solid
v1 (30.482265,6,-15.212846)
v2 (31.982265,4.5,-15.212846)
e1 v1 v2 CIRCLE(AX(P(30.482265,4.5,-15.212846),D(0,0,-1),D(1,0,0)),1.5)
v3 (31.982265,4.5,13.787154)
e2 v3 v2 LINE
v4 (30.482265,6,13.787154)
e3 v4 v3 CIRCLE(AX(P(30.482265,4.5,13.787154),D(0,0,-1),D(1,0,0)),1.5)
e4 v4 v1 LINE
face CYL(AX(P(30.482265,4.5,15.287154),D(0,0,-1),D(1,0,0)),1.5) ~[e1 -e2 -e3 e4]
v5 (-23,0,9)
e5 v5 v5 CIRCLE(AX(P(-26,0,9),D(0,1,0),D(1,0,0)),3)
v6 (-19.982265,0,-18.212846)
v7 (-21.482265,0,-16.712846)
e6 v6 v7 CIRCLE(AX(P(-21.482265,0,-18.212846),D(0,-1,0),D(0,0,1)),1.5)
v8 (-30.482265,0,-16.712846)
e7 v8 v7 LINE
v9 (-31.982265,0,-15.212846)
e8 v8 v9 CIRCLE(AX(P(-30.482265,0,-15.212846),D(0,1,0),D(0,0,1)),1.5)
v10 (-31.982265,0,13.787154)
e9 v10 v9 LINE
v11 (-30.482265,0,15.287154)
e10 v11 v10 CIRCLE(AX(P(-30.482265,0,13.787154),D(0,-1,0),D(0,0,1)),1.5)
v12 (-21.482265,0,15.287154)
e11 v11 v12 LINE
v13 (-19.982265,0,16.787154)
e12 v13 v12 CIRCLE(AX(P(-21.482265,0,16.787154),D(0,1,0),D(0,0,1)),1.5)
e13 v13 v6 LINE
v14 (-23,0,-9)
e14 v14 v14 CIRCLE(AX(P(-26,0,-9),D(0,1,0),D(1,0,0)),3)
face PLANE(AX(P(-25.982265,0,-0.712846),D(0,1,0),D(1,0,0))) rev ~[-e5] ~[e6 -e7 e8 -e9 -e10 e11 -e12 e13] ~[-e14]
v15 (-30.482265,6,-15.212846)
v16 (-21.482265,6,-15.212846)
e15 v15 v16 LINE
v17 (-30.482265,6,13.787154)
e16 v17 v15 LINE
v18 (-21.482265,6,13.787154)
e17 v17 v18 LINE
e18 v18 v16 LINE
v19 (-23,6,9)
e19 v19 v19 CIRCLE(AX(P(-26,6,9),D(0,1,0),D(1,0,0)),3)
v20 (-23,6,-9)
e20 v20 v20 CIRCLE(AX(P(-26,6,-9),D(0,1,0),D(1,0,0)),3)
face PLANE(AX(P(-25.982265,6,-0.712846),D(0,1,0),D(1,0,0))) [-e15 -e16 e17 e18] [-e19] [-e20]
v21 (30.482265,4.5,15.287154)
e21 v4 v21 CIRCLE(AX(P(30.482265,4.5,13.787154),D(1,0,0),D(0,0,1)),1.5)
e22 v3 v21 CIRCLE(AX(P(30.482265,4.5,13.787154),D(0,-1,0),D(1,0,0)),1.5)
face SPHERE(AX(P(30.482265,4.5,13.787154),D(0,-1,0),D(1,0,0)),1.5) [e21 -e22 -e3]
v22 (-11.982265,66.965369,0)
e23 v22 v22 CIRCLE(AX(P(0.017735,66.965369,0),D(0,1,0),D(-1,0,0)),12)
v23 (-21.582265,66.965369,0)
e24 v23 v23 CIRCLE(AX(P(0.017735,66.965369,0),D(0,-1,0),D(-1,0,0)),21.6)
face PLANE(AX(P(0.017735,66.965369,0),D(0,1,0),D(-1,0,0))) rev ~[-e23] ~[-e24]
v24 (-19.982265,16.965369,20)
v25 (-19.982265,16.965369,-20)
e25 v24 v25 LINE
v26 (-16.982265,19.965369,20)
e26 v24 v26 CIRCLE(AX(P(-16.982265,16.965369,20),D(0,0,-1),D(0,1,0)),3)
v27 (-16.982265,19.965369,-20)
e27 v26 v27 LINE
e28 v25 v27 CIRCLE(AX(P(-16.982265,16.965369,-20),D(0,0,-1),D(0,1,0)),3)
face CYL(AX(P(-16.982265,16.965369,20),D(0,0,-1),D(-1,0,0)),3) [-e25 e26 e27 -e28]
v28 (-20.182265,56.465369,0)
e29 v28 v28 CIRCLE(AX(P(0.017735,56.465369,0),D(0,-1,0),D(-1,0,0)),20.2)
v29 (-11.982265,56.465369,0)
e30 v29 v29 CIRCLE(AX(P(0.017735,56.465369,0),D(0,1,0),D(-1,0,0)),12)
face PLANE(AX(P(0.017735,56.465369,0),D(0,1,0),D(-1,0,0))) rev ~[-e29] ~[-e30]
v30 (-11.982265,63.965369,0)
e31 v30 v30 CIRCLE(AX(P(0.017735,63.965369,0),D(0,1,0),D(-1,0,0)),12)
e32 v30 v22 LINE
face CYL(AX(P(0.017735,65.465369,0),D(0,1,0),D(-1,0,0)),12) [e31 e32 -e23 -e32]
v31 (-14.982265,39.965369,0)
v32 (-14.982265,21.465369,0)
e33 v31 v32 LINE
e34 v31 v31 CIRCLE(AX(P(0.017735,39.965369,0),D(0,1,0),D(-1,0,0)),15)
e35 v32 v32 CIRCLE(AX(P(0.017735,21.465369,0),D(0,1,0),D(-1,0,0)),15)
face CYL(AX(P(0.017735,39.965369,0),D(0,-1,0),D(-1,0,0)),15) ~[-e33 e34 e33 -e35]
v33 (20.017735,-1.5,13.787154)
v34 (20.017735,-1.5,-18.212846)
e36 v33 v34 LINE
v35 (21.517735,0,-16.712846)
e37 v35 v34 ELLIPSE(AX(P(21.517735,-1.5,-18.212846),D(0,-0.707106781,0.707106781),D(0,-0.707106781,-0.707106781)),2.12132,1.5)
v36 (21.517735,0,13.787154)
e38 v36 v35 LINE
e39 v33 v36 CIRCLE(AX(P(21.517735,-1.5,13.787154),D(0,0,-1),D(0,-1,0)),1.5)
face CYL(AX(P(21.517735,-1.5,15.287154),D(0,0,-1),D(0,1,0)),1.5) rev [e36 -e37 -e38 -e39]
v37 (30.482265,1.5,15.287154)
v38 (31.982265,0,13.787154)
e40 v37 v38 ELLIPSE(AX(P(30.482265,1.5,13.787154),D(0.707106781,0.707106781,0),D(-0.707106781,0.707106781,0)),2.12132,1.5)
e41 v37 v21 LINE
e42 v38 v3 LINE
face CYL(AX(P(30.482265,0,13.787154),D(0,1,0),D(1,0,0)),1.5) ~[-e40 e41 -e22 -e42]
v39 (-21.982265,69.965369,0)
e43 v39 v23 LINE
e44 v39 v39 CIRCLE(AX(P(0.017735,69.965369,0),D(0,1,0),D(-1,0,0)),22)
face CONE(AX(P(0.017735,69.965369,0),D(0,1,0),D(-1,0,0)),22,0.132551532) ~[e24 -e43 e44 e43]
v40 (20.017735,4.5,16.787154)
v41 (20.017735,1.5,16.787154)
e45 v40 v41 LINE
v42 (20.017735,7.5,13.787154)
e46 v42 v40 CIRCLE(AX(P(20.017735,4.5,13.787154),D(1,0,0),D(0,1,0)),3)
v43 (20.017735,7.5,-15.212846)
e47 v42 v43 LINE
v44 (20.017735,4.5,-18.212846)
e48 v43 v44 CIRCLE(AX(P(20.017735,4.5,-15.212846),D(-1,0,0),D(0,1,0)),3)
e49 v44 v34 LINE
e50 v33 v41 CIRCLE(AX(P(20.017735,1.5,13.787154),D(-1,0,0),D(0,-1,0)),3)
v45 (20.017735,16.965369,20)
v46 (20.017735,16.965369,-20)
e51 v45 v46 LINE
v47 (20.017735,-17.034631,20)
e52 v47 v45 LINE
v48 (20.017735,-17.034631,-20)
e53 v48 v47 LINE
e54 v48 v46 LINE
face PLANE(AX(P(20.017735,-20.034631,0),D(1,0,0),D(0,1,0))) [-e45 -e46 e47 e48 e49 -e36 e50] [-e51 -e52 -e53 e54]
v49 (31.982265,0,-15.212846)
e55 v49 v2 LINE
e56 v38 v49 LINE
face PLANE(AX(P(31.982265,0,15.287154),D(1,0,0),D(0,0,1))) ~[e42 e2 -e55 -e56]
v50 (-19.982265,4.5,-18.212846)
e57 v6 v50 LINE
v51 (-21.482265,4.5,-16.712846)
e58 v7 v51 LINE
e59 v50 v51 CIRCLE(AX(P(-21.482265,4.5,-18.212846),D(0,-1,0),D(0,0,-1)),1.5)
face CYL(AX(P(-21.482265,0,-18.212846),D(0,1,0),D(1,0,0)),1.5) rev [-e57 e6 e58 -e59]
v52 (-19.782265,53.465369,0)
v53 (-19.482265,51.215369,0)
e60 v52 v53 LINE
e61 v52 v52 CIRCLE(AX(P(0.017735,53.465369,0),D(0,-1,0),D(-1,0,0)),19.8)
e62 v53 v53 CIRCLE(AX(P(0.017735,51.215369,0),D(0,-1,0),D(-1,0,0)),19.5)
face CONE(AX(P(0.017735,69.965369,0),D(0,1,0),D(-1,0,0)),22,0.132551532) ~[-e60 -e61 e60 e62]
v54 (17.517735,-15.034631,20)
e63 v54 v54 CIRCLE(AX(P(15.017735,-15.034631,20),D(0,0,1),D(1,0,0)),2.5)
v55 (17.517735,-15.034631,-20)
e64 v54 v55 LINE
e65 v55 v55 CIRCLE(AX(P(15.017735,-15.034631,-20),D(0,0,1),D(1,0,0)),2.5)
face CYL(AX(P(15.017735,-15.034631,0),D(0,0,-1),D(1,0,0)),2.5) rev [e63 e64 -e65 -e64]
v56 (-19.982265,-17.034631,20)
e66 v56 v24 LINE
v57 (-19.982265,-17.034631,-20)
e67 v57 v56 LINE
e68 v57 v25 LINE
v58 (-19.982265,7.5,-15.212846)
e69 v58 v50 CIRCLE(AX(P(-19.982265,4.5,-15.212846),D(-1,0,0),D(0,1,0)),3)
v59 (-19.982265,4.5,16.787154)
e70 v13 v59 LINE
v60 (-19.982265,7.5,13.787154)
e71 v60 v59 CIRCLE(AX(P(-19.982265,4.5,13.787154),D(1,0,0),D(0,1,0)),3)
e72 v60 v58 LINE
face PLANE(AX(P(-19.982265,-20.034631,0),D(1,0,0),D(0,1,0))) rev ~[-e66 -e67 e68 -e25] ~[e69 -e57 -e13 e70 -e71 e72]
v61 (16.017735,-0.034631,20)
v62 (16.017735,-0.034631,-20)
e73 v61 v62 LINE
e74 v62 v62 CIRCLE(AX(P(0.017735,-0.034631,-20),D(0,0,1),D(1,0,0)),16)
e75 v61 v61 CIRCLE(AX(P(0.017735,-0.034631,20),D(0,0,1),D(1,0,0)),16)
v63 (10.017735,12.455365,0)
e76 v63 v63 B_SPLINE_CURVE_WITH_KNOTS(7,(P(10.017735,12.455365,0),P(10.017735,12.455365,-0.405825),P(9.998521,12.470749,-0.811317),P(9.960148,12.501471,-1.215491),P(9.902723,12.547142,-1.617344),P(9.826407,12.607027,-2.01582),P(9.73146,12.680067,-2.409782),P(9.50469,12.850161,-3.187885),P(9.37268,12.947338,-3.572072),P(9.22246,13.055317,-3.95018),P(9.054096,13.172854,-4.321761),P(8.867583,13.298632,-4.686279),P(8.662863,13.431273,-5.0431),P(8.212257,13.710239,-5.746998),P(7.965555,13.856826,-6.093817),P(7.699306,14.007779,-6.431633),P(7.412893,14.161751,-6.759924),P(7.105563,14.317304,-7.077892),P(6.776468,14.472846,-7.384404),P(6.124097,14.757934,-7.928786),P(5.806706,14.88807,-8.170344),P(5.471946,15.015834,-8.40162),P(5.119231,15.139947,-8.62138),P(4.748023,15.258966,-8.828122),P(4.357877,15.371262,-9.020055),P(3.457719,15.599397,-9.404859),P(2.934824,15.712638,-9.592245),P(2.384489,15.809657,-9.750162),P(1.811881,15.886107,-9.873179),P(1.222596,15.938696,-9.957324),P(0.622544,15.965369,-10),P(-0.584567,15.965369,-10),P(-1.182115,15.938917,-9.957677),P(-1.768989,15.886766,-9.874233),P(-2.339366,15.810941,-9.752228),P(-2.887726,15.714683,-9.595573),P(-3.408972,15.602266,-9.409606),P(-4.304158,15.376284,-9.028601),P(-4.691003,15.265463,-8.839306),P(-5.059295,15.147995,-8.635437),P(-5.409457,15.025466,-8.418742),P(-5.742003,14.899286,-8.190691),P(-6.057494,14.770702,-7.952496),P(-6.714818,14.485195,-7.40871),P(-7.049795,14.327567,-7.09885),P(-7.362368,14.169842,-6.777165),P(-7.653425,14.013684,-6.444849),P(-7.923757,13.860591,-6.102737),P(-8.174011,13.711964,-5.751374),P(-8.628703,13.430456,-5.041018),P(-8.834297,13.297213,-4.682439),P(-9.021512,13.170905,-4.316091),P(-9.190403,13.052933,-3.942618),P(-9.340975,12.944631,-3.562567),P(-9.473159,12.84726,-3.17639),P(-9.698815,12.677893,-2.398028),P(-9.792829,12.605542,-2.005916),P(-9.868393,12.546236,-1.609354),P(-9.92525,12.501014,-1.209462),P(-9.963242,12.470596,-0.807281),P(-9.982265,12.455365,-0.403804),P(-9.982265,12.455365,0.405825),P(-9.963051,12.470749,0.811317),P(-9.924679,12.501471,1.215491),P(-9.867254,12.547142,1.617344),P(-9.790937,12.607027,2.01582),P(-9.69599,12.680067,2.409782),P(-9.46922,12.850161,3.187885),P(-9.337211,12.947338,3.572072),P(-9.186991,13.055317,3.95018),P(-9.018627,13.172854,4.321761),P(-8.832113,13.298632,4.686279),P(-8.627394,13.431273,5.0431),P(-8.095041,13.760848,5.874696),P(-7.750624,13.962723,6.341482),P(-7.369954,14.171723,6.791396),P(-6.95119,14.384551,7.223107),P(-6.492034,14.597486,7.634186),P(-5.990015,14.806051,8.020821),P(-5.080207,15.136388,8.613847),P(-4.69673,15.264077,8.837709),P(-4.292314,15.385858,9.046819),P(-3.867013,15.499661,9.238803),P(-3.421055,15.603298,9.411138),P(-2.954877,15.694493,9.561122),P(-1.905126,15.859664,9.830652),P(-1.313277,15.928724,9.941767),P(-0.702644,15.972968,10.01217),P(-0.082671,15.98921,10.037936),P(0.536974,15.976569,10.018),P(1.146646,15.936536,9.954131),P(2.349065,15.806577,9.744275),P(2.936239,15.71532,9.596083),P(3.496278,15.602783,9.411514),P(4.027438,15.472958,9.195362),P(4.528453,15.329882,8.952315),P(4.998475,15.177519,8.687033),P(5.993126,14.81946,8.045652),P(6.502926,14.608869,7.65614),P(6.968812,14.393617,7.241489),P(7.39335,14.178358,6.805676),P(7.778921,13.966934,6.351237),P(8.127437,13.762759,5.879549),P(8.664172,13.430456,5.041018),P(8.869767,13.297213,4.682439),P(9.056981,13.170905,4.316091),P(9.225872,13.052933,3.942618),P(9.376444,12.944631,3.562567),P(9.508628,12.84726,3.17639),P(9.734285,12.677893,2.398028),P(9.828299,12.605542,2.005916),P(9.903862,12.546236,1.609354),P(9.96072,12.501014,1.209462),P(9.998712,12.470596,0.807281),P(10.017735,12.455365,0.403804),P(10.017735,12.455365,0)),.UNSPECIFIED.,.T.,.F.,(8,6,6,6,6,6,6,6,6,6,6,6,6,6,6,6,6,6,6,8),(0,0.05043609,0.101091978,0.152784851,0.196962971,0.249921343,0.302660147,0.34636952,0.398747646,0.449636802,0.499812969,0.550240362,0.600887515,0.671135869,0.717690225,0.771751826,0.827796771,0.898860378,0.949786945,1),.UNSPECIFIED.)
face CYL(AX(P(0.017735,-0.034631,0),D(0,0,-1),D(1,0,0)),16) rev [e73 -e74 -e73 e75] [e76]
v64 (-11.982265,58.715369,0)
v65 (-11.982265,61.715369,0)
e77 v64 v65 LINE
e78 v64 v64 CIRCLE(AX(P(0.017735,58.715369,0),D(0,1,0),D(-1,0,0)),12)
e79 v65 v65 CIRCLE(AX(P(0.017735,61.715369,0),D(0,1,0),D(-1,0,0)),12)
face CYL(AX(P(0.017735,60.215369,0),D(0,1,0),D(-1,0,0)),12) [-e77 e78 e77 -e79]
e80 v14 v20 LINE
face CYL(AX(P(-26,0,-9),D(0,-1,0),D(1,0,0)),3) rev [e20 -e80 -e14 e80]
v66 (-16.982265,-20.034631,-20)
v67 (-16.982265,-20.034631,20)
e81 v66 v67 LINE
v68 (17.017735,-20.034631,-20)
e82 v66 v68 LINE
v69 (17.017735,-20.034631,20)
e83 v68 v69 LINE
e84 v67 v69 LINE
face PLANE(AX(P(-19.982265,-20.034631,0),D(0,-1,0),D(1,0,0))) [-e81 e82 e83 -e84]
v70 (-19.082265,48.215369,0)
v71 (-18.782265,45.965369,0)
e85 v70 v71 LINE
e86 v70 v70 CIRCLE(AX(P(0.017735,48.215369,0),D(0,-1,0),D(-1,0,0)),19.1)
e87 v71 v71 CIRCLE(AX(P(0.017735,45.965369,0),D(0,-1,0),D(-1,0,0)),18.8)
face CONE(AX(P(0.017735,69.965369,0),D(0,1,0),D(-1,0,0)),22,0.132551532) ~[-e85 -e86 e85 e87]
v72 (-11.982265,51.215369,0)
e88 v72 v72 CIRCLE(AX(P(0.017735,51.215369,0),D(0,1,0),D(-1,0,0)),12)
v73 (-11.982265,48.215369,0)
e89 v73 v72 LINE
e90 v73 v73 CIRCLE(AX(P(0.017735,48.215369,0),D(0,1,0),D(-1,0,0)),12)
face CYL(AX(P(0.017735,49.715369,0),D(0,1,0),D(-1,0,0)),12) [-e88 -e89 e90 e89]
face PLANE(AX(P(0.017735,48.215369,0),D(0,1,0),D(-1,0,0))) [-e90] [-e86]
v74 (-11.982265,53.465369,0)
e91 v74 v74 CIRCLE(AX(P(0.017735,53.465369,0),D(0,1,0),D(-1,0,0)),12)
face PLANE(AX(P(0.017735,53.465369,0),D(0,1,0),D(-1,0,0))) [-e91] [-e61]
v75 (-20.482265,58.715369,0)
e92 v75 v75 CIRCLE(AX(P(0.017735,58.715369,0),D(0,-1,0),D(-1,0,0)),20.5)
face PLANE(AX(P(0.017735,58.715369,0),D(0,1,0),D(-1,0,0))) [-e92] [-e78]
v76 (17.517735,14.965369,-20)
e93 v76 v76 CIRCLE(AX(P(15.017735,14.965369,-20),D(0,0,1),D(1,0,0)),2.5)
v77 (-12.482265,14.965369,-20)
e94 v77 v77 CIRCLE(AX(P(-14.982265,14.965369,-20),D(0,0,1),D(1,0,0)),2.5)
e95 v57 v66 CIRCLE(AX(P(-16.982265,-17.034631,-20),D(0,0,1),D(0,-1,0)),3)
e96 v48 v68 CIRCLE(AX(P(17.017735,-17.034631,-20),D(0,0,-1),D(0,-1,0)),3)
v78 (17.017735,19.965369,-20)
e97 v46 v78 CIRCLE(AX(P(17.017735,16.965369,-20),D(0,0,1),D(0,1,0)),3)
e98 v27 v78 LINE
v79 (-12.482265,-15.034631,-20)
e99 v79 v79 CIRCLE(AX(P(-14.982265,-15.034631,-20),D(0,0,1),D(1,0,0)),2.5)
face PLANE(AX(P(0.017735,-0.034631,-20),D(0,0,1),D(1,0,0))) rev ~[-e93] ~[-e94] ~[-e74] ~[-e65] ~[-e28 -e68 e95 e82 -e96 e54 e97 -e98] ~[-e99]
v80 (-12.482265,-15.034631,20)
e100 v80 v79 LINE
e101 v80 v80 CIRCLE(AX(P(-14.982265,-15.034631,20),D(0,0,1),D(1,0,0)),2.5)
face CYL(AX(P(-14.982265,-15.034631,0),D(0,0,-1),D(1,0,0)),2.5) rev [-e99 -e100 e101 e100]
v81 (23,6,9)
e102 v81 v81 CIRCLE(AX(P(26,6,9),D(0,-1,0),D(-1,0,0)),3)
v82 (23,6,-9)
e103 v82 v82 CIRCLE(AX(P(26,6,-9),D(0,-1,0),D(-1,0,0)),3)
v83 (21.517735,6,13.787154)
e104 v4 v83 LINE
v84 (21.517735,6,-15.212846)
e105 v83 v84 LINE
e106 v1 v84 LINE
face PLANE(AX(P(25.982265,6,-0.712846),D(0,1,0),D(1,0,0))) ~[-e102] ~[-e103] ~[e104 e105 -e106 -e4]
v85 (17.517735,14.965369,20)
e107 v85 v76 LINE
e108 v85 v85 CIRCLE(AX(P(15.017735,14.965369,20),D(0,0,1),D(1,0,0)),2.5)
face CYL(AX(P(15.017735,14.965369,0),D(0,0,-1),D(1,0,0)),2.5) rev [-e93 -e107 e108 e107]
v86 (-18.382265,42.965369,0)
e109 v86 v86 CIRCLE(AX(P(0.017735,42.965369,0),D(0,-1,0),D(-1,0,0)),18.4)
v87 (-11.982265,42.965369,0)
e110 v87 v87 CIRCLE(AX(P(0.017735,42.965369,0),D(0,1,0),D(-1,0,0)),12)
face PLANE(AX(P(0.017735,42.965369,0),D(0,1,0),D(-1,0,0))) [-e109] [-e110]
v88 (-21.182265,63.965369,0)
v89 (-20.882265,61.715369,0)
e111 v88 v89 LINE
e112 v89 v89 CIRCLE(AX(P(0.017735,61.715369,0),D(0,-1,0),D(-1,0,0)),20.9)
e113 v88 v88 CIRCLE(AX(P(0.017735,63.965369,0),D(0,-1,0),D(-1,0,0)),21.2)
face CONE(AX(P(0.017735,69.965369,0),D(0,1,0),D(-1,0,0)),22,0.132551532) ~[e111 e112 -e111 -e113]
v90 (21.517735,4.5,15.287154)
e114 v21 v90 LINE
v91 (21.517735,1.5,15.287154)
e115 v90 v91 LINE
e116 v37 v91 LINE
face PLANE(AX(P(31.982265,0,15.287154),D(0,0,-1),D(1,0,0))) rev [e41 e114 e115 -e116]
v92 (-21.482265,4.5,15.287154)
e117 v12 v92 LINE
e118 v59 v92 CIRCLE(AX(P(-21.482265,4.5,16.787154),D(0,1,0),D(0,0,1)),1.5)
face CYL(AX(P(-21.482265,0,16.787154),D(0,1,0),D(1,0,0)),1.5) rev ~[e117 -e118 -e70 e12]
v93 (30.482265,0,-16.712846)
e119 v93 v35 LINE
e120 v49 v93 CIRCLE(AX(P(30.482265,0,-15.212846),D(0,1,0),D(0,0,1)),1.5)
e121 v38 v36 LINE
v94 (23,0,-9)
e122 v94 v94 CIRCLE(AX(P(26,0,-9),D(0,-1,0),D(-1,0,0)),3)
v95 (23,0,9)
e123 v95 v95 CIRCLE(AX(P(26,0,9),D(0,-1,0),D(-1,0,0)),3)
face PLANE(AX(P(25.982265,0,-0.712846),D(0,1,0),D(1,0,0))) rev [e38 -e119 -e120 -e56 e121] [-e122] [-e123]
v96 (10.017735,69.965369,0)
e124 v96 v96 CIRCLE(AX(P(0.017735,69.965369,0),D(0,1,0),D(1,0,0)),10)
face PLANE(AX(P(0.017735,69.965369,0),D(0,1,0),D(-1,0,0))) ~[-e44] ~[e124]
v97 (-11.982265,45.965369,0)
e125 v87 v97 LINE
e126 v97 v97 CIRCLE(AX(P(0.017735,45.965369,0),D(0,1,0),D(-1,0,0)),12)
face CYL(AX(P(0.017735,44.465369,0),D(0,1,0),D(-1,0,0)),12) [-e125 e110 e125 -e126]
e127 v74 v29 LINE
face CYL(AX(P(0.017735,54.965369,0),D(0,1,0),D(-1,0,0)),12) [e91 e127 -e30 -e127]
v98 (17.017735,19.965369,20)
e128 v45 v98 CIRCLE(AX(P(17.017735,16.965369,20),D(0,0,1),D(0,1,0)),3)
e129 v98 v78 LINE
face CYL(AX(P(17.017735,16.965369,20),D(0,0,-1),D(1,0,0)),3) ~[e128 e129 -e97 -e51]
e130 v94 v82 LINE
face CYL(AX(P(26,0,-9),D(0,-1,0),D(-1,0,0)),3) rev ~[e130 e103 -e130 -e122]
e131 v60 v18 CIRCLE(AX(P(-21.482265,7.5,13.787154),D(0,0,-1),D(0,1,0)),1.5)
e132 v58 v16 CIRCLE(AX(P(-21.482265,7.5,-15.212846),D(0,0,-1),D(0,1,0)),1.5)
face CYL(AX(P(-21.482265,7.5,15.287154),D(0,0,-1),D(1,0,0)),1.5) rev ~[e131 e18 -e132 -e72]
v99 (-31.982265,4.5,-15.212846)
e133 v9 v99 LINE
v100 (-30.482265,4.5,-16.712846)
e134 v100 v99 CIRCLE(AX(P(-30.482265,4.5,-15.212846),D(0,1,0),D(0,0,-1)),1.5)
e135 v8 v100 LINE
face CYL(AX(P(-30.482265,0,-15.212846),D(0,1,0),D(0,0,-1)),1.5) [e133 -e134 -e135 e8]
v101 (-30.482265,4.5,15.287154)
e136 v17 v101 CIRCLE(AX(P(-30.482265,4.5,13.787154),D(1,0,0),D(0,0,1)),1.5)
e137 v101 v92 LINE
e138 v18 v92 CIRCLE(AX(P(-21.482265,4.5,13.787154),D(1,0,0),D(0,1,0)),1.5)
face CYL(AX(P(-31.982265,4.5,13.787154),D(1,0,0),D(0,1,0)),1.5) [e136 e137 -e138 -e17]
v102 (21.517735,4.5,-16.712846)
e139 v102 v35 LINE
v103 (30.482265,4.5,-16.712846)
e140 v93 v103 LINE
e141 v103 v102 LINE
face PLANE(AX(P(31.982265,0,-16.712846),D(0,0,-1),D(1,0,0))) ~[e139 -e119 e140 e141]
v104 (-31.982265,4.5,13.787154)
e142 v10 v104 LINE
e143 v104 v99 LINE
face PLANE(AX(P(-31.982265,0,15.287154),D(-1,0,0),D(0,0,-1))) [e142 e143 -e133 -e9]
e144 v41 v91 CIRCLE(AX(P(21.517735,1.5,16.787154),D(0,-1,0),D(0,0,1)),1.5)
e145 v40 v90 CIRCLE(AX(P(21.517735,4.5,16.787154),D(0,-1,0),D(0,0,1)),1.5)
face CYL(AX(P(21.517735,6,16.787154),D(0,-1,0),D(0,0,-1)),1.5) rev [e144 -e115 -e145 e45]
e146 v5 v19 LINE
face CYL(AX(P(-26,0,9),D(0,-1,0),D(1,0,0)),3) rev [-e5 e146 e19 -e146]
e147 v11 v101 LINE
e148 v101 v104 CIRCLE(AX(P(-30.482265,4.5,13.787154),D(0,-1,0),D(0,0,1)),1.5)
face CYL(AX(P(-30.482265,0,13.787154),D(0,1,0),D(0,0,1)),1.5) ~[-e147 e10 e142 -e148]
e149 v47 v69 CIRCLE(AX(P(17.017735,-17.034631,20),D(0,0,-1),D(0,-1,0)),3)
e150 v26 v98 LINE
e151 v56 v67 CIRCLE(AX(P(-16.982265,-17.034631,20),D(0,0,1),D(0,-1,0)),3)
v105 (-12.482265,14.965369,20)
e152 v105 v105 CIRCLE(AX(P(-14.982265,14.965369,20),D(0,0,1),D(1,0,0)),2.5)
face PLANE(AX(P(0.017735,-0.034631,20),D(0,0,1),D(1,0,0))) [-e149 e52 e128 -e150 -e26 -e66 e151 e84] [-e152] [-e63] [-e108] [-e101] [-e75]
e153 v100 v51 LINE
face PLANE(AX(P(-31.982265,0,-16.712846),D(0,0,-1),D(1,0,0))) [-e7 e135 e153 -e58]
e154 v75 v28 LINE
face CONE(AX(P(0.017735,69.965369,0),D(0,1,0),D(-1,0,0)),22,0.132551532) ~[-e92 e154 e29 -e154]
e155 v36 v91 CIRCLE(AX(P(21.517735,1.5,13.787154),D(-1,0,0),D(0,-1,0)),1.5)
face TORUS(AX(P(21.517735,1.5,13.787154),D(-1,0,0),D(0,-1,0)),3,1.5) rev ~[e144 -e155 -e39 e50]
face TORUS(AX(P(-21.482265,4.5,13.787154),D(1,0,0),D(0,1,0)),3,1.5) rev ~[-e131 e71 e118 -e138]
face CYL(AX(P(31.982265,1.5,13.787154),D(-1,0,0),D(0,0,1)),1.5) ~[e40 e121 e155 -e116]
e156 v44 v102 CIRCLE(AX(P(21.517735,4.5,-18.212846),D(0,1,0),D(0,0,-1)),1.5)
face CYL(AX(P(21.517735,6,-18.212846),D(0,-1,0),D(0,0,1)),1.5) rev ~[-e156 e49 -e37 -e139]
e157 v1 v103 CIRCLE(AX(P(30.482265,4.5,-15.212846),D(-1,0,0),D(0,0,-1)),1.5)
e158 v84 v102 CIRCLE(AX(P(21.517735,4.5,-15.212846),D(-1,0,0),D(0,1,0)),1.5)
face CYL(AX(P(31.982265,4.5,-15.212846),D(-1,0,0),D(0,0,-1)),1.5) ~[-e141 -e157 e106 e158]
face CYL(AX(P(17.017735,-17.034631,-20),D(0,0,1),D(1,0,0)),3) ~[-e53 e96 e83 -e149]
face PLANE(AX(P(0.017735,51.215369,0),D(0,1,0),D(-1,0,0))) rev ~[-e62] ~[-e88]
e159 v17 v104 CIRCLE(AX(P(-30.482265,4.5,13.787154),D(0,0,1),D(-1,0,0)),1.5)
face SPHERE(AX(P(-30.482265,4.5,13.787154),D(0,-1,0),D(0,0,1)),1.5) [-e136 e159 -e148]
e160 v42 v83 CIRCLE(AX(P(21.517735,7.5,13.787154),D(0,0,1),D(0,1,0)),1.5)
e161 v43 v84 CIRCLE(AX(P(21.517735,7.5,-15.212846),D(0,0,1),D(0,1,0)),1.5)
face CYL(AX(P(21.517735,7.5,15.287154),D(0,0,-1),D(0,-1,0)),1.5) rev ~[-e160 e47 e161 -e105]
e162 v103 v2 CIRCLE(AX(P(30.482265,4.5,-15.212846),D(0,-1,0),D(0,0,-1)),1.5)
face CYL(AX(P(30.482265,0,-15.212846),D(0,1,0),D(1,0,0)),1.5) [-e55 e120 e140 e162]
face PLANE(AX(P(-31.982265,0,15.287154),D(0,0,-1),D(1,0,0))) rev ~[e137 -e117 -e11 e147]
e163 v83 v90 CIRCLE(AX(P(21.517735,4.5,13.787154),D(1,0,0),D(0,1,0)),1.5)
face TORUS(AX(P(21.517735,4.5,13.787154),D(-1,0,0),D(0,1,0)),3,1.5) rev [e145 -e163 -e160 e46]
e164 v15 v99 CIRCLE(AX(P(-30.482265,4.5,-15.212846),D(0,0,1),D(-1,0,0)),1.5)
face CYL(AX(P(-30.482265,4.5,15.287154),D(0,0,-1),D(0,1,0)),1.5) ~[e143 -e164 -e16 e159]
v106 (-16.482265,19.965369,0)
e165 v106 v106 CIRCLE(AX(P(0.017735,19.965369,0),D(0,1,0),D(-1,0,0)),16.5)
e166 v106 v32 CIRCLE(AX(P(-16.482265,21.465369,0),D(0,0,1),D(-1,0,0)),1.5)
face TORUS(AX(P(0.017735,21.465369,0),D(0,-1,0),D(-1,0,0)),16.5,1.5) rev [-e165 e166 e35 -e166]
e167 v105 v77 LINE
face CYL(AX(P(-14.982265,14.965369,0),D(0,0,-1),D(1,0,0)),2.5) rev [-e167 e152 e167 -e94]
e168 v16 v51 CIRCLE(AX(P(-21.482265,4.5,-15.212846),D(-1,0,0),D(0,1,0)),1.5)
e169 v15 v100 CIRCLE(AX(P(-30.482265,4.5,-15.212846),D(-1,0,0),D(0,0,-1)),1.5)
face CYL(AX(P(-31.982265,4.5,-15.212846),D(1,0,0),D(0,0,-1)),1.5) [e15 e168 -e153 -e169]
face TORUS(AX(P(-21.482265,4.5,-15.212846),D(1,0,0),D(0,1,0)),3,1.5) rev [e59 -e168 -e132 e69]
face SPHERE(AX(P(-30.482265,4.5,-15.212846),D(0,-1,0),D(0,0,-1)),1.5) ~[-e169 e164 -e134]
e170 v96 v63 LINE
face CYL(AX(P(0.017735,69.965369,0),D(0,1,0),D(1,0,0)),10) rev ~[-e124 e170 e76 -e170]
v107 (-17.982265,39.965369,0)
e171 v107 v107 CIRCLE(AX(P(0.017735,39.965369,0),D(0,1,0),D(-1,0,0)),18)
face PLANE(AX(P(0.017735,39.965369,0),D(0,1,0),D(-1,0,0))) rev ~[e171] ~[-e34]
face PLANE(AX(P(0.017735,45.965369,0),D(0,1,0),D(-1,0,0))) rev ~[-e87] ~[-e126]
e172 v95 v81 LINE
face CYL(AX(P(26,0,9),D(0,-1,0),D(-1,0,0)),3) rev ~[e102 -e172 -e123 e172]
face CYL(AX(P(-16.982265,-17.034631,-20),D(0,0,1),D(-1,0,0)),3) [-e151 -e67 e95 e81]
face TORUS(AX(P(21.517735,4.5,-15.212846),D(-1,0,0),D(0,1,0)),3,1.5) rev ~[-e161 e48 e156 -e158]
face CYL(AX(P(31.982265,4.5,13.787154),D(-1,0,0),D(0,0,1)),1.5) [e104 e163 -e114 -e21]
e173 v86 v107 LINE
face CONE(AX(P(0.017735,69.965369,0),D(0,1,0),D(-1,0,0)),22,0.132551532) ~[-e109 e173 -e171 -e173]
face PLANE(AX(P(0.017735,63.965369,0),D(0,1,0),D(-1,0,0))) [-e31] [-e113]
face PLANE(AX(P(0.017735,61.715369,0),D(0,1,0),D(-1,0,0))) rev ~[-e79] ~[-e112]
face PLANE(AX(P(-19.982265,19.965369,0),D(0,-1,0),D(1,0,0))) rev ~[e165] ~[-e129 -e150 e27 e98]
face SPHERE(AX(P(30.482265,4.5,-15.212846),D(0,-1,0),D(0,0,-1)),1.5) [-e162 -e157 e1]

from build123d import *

# Parameters (mm, degrees)
SKETCH1_W           = 40
SKETCH1_H           = 40
SKETCH1_R           = 2.5
SKETCH1_R_2         = 16
BOSS_EXTRUDE1_DEPTH = 20
FILLET2_R           = 3
SKETCH7_W           = 18
SKETCH7_H           = 3
LPATTERN1_COUNT     = 5
LPATTERN1_PITCH     = 5.25
SKETCH8_R           = 10
CUT_EXTRUDE1_DEPTH  = 70
SKETCH10_W          = 12
SKETCH10_H          = 32
SKETCH10_R          = 3
BOSS_EXTRUDE2_DEPTH = 6
FILLET4_R           = 1.5


with BuildPart() as part:
    # Sketch1 → Boss-Extrude1 (new body, symmetric)
    with BuildSketch(Plane.XY):
        with Locations((0.017734769, -0.034630907)):
            Rectangle(SKETCH1_W, SKETCH1_H)
        with Locations((-14.982265231, 14.965369093)):
            Circle(SKETCH1_R, mode=Mode.SUBTRACT)
        with Locations((15.017734769, 14.965369093)):
            Circle(SKETCH1_R, mode=Mode.SUBTRACT)
        with Locations((15.017734769, -15.034630907)):
            Circle(SKETCH1_R, mode=Mode.SUBTRACT)
        with Locations((-14.982265231, -15.034630907)):
            Circle(SKETCH1_R, mode=Mode.SUBTRACT)
        with Locations((0.017734769, -0.034630907)):
            Circle(SKETCH1_R_2, mode=Mode.SUBTRACT)
    extrude(amount=BOSS_EXTRUDE1_DEPTH, both=True)

    # Fillet2
    fillet2_edges = [part.edges().sort_by_distance(p)[0] for p in [
        (20.017734769, -20.034630907, 0),
        (-19.982265231, -20.034630907, 0),
        (-19.982265231, 19.965369093, 0),
        (20.017734769, 19.965369093, 0),
    ]]
    fillet(fillet2_edges, radius=FILLET2_R)

    # Sketch2 → Revolve2 (revolve)
    with BuildSketch(Plane.XY):
        Polygon((0.017734769, 19.965369093), (0.017734769, 69.965369093), (-21.982265231, 69.965369093), (-17.982265231, 39.965369093), (-14.982265231, 39.965369093), (-14.982265231, 19.965369093), align=None)
    revolve(axis=Axis((0.017734769, 19.965369093, 0), (0, 1, 0)))

    # Sketch7 → Cut-Revolve3 (revolve, cut)
    with BuildSketch(Plane.XY):
        with Locations((-20.982265231, 44.465369093)):
            Rectangle(SKETCH7_W, SKETCH7_H)
    cut_revolve3 = revolve(axis=Axis((0.017734769, 42.965369093, 0), (0, 1, 0)), mode=Mode.SUBTRACT)

    # LPattern1: Cut-Revolve3 ×5
    with Locations(*[(0, i * LPATTERN1_PITCH, 0) for i in range(1, LPATTERN1_COUNT)]):
        add(cut_revolve3, mode=Mode.SUBTRACT)

    # Sketch8 → Cut-Extrude1 (cut)
    with BuildSketch(Plane(origin=(0, 69.965369093, 0), x_dir=(1, 0, 0), z_dir=(0, 1, 0))):
        with Locations((0.017734769, 0)):
            Circle(SKETCH8_R)
    extrude(amount=-CUT_EXTRUDE1_DEPTH, mode=Mode.SUBTRACT)

    # Sketch10 → Boss-Extrude2 (add)
    with BuildSketch(Plane(origin=(0, 0, 0), x_dir=(1, 0, 0), z_dir=(0, 1, 0))):
        with Locations((-25.982265231, 0.712845565)):
            Rectangle(SKETCH10_W, SKETCH10_H)
        with Locations((-26, -9)):
            Circle(SKETCH10_R, mode=Mode.SUBTRACT)
        with Locations((-26, 9)):
            Circle(SKETCH10_R, mode=Mode.SUBTRACT)
    boss_extrude2 = extrude(amount=BOSS_EXTRUDE2_DEPTH)

    # Mirror1: Boss-Extrude2 across plane
    add(boss_extrude2.mirror(Plane(origin=(0, 0, 0), x_dir=(0, 0, 1), z_dir=(1, 0, 0))))

    # Fillet4
    fillet4_edges = [part.edges().sort_by_distance(p)[0] for p in [
        (20.017734769, 0, -0.712845565),
        (20.017734769, 6, -0.712845565),
        (20.017734769, 3, 15.287154435),
        (26, 0, 15.287154435),
        (20.017734769, 3, -16.712845565),
        (31.982265231, 3, 15.287154435),
        (31.982265231, 3, -16.712845565),
        (26, 6, -16.712845565),
        (31.982265231, 6, -0.712845565),
        (26, 6, 15.287154435),
        (15.017734769, 19.965369093, 0),
        (-19.982265231, 6, -0.712845565),
        (-19.982265231, 3, -16.712845565),
        (-31.982265231, 3, -16.712845565),
        (-19.982265231, 3, 15.287154435),
        (-31.982265231, 3, 15.287154435),
        (-25.982265231, 6, -16.712845565),
        (-25.982265231, 6, 15.287154435),
        (-31.982265231, 6, -0.712845565),
    ]]
    fillet(fillet4_edges, radius=FILLET4_R)


solid = part.part
